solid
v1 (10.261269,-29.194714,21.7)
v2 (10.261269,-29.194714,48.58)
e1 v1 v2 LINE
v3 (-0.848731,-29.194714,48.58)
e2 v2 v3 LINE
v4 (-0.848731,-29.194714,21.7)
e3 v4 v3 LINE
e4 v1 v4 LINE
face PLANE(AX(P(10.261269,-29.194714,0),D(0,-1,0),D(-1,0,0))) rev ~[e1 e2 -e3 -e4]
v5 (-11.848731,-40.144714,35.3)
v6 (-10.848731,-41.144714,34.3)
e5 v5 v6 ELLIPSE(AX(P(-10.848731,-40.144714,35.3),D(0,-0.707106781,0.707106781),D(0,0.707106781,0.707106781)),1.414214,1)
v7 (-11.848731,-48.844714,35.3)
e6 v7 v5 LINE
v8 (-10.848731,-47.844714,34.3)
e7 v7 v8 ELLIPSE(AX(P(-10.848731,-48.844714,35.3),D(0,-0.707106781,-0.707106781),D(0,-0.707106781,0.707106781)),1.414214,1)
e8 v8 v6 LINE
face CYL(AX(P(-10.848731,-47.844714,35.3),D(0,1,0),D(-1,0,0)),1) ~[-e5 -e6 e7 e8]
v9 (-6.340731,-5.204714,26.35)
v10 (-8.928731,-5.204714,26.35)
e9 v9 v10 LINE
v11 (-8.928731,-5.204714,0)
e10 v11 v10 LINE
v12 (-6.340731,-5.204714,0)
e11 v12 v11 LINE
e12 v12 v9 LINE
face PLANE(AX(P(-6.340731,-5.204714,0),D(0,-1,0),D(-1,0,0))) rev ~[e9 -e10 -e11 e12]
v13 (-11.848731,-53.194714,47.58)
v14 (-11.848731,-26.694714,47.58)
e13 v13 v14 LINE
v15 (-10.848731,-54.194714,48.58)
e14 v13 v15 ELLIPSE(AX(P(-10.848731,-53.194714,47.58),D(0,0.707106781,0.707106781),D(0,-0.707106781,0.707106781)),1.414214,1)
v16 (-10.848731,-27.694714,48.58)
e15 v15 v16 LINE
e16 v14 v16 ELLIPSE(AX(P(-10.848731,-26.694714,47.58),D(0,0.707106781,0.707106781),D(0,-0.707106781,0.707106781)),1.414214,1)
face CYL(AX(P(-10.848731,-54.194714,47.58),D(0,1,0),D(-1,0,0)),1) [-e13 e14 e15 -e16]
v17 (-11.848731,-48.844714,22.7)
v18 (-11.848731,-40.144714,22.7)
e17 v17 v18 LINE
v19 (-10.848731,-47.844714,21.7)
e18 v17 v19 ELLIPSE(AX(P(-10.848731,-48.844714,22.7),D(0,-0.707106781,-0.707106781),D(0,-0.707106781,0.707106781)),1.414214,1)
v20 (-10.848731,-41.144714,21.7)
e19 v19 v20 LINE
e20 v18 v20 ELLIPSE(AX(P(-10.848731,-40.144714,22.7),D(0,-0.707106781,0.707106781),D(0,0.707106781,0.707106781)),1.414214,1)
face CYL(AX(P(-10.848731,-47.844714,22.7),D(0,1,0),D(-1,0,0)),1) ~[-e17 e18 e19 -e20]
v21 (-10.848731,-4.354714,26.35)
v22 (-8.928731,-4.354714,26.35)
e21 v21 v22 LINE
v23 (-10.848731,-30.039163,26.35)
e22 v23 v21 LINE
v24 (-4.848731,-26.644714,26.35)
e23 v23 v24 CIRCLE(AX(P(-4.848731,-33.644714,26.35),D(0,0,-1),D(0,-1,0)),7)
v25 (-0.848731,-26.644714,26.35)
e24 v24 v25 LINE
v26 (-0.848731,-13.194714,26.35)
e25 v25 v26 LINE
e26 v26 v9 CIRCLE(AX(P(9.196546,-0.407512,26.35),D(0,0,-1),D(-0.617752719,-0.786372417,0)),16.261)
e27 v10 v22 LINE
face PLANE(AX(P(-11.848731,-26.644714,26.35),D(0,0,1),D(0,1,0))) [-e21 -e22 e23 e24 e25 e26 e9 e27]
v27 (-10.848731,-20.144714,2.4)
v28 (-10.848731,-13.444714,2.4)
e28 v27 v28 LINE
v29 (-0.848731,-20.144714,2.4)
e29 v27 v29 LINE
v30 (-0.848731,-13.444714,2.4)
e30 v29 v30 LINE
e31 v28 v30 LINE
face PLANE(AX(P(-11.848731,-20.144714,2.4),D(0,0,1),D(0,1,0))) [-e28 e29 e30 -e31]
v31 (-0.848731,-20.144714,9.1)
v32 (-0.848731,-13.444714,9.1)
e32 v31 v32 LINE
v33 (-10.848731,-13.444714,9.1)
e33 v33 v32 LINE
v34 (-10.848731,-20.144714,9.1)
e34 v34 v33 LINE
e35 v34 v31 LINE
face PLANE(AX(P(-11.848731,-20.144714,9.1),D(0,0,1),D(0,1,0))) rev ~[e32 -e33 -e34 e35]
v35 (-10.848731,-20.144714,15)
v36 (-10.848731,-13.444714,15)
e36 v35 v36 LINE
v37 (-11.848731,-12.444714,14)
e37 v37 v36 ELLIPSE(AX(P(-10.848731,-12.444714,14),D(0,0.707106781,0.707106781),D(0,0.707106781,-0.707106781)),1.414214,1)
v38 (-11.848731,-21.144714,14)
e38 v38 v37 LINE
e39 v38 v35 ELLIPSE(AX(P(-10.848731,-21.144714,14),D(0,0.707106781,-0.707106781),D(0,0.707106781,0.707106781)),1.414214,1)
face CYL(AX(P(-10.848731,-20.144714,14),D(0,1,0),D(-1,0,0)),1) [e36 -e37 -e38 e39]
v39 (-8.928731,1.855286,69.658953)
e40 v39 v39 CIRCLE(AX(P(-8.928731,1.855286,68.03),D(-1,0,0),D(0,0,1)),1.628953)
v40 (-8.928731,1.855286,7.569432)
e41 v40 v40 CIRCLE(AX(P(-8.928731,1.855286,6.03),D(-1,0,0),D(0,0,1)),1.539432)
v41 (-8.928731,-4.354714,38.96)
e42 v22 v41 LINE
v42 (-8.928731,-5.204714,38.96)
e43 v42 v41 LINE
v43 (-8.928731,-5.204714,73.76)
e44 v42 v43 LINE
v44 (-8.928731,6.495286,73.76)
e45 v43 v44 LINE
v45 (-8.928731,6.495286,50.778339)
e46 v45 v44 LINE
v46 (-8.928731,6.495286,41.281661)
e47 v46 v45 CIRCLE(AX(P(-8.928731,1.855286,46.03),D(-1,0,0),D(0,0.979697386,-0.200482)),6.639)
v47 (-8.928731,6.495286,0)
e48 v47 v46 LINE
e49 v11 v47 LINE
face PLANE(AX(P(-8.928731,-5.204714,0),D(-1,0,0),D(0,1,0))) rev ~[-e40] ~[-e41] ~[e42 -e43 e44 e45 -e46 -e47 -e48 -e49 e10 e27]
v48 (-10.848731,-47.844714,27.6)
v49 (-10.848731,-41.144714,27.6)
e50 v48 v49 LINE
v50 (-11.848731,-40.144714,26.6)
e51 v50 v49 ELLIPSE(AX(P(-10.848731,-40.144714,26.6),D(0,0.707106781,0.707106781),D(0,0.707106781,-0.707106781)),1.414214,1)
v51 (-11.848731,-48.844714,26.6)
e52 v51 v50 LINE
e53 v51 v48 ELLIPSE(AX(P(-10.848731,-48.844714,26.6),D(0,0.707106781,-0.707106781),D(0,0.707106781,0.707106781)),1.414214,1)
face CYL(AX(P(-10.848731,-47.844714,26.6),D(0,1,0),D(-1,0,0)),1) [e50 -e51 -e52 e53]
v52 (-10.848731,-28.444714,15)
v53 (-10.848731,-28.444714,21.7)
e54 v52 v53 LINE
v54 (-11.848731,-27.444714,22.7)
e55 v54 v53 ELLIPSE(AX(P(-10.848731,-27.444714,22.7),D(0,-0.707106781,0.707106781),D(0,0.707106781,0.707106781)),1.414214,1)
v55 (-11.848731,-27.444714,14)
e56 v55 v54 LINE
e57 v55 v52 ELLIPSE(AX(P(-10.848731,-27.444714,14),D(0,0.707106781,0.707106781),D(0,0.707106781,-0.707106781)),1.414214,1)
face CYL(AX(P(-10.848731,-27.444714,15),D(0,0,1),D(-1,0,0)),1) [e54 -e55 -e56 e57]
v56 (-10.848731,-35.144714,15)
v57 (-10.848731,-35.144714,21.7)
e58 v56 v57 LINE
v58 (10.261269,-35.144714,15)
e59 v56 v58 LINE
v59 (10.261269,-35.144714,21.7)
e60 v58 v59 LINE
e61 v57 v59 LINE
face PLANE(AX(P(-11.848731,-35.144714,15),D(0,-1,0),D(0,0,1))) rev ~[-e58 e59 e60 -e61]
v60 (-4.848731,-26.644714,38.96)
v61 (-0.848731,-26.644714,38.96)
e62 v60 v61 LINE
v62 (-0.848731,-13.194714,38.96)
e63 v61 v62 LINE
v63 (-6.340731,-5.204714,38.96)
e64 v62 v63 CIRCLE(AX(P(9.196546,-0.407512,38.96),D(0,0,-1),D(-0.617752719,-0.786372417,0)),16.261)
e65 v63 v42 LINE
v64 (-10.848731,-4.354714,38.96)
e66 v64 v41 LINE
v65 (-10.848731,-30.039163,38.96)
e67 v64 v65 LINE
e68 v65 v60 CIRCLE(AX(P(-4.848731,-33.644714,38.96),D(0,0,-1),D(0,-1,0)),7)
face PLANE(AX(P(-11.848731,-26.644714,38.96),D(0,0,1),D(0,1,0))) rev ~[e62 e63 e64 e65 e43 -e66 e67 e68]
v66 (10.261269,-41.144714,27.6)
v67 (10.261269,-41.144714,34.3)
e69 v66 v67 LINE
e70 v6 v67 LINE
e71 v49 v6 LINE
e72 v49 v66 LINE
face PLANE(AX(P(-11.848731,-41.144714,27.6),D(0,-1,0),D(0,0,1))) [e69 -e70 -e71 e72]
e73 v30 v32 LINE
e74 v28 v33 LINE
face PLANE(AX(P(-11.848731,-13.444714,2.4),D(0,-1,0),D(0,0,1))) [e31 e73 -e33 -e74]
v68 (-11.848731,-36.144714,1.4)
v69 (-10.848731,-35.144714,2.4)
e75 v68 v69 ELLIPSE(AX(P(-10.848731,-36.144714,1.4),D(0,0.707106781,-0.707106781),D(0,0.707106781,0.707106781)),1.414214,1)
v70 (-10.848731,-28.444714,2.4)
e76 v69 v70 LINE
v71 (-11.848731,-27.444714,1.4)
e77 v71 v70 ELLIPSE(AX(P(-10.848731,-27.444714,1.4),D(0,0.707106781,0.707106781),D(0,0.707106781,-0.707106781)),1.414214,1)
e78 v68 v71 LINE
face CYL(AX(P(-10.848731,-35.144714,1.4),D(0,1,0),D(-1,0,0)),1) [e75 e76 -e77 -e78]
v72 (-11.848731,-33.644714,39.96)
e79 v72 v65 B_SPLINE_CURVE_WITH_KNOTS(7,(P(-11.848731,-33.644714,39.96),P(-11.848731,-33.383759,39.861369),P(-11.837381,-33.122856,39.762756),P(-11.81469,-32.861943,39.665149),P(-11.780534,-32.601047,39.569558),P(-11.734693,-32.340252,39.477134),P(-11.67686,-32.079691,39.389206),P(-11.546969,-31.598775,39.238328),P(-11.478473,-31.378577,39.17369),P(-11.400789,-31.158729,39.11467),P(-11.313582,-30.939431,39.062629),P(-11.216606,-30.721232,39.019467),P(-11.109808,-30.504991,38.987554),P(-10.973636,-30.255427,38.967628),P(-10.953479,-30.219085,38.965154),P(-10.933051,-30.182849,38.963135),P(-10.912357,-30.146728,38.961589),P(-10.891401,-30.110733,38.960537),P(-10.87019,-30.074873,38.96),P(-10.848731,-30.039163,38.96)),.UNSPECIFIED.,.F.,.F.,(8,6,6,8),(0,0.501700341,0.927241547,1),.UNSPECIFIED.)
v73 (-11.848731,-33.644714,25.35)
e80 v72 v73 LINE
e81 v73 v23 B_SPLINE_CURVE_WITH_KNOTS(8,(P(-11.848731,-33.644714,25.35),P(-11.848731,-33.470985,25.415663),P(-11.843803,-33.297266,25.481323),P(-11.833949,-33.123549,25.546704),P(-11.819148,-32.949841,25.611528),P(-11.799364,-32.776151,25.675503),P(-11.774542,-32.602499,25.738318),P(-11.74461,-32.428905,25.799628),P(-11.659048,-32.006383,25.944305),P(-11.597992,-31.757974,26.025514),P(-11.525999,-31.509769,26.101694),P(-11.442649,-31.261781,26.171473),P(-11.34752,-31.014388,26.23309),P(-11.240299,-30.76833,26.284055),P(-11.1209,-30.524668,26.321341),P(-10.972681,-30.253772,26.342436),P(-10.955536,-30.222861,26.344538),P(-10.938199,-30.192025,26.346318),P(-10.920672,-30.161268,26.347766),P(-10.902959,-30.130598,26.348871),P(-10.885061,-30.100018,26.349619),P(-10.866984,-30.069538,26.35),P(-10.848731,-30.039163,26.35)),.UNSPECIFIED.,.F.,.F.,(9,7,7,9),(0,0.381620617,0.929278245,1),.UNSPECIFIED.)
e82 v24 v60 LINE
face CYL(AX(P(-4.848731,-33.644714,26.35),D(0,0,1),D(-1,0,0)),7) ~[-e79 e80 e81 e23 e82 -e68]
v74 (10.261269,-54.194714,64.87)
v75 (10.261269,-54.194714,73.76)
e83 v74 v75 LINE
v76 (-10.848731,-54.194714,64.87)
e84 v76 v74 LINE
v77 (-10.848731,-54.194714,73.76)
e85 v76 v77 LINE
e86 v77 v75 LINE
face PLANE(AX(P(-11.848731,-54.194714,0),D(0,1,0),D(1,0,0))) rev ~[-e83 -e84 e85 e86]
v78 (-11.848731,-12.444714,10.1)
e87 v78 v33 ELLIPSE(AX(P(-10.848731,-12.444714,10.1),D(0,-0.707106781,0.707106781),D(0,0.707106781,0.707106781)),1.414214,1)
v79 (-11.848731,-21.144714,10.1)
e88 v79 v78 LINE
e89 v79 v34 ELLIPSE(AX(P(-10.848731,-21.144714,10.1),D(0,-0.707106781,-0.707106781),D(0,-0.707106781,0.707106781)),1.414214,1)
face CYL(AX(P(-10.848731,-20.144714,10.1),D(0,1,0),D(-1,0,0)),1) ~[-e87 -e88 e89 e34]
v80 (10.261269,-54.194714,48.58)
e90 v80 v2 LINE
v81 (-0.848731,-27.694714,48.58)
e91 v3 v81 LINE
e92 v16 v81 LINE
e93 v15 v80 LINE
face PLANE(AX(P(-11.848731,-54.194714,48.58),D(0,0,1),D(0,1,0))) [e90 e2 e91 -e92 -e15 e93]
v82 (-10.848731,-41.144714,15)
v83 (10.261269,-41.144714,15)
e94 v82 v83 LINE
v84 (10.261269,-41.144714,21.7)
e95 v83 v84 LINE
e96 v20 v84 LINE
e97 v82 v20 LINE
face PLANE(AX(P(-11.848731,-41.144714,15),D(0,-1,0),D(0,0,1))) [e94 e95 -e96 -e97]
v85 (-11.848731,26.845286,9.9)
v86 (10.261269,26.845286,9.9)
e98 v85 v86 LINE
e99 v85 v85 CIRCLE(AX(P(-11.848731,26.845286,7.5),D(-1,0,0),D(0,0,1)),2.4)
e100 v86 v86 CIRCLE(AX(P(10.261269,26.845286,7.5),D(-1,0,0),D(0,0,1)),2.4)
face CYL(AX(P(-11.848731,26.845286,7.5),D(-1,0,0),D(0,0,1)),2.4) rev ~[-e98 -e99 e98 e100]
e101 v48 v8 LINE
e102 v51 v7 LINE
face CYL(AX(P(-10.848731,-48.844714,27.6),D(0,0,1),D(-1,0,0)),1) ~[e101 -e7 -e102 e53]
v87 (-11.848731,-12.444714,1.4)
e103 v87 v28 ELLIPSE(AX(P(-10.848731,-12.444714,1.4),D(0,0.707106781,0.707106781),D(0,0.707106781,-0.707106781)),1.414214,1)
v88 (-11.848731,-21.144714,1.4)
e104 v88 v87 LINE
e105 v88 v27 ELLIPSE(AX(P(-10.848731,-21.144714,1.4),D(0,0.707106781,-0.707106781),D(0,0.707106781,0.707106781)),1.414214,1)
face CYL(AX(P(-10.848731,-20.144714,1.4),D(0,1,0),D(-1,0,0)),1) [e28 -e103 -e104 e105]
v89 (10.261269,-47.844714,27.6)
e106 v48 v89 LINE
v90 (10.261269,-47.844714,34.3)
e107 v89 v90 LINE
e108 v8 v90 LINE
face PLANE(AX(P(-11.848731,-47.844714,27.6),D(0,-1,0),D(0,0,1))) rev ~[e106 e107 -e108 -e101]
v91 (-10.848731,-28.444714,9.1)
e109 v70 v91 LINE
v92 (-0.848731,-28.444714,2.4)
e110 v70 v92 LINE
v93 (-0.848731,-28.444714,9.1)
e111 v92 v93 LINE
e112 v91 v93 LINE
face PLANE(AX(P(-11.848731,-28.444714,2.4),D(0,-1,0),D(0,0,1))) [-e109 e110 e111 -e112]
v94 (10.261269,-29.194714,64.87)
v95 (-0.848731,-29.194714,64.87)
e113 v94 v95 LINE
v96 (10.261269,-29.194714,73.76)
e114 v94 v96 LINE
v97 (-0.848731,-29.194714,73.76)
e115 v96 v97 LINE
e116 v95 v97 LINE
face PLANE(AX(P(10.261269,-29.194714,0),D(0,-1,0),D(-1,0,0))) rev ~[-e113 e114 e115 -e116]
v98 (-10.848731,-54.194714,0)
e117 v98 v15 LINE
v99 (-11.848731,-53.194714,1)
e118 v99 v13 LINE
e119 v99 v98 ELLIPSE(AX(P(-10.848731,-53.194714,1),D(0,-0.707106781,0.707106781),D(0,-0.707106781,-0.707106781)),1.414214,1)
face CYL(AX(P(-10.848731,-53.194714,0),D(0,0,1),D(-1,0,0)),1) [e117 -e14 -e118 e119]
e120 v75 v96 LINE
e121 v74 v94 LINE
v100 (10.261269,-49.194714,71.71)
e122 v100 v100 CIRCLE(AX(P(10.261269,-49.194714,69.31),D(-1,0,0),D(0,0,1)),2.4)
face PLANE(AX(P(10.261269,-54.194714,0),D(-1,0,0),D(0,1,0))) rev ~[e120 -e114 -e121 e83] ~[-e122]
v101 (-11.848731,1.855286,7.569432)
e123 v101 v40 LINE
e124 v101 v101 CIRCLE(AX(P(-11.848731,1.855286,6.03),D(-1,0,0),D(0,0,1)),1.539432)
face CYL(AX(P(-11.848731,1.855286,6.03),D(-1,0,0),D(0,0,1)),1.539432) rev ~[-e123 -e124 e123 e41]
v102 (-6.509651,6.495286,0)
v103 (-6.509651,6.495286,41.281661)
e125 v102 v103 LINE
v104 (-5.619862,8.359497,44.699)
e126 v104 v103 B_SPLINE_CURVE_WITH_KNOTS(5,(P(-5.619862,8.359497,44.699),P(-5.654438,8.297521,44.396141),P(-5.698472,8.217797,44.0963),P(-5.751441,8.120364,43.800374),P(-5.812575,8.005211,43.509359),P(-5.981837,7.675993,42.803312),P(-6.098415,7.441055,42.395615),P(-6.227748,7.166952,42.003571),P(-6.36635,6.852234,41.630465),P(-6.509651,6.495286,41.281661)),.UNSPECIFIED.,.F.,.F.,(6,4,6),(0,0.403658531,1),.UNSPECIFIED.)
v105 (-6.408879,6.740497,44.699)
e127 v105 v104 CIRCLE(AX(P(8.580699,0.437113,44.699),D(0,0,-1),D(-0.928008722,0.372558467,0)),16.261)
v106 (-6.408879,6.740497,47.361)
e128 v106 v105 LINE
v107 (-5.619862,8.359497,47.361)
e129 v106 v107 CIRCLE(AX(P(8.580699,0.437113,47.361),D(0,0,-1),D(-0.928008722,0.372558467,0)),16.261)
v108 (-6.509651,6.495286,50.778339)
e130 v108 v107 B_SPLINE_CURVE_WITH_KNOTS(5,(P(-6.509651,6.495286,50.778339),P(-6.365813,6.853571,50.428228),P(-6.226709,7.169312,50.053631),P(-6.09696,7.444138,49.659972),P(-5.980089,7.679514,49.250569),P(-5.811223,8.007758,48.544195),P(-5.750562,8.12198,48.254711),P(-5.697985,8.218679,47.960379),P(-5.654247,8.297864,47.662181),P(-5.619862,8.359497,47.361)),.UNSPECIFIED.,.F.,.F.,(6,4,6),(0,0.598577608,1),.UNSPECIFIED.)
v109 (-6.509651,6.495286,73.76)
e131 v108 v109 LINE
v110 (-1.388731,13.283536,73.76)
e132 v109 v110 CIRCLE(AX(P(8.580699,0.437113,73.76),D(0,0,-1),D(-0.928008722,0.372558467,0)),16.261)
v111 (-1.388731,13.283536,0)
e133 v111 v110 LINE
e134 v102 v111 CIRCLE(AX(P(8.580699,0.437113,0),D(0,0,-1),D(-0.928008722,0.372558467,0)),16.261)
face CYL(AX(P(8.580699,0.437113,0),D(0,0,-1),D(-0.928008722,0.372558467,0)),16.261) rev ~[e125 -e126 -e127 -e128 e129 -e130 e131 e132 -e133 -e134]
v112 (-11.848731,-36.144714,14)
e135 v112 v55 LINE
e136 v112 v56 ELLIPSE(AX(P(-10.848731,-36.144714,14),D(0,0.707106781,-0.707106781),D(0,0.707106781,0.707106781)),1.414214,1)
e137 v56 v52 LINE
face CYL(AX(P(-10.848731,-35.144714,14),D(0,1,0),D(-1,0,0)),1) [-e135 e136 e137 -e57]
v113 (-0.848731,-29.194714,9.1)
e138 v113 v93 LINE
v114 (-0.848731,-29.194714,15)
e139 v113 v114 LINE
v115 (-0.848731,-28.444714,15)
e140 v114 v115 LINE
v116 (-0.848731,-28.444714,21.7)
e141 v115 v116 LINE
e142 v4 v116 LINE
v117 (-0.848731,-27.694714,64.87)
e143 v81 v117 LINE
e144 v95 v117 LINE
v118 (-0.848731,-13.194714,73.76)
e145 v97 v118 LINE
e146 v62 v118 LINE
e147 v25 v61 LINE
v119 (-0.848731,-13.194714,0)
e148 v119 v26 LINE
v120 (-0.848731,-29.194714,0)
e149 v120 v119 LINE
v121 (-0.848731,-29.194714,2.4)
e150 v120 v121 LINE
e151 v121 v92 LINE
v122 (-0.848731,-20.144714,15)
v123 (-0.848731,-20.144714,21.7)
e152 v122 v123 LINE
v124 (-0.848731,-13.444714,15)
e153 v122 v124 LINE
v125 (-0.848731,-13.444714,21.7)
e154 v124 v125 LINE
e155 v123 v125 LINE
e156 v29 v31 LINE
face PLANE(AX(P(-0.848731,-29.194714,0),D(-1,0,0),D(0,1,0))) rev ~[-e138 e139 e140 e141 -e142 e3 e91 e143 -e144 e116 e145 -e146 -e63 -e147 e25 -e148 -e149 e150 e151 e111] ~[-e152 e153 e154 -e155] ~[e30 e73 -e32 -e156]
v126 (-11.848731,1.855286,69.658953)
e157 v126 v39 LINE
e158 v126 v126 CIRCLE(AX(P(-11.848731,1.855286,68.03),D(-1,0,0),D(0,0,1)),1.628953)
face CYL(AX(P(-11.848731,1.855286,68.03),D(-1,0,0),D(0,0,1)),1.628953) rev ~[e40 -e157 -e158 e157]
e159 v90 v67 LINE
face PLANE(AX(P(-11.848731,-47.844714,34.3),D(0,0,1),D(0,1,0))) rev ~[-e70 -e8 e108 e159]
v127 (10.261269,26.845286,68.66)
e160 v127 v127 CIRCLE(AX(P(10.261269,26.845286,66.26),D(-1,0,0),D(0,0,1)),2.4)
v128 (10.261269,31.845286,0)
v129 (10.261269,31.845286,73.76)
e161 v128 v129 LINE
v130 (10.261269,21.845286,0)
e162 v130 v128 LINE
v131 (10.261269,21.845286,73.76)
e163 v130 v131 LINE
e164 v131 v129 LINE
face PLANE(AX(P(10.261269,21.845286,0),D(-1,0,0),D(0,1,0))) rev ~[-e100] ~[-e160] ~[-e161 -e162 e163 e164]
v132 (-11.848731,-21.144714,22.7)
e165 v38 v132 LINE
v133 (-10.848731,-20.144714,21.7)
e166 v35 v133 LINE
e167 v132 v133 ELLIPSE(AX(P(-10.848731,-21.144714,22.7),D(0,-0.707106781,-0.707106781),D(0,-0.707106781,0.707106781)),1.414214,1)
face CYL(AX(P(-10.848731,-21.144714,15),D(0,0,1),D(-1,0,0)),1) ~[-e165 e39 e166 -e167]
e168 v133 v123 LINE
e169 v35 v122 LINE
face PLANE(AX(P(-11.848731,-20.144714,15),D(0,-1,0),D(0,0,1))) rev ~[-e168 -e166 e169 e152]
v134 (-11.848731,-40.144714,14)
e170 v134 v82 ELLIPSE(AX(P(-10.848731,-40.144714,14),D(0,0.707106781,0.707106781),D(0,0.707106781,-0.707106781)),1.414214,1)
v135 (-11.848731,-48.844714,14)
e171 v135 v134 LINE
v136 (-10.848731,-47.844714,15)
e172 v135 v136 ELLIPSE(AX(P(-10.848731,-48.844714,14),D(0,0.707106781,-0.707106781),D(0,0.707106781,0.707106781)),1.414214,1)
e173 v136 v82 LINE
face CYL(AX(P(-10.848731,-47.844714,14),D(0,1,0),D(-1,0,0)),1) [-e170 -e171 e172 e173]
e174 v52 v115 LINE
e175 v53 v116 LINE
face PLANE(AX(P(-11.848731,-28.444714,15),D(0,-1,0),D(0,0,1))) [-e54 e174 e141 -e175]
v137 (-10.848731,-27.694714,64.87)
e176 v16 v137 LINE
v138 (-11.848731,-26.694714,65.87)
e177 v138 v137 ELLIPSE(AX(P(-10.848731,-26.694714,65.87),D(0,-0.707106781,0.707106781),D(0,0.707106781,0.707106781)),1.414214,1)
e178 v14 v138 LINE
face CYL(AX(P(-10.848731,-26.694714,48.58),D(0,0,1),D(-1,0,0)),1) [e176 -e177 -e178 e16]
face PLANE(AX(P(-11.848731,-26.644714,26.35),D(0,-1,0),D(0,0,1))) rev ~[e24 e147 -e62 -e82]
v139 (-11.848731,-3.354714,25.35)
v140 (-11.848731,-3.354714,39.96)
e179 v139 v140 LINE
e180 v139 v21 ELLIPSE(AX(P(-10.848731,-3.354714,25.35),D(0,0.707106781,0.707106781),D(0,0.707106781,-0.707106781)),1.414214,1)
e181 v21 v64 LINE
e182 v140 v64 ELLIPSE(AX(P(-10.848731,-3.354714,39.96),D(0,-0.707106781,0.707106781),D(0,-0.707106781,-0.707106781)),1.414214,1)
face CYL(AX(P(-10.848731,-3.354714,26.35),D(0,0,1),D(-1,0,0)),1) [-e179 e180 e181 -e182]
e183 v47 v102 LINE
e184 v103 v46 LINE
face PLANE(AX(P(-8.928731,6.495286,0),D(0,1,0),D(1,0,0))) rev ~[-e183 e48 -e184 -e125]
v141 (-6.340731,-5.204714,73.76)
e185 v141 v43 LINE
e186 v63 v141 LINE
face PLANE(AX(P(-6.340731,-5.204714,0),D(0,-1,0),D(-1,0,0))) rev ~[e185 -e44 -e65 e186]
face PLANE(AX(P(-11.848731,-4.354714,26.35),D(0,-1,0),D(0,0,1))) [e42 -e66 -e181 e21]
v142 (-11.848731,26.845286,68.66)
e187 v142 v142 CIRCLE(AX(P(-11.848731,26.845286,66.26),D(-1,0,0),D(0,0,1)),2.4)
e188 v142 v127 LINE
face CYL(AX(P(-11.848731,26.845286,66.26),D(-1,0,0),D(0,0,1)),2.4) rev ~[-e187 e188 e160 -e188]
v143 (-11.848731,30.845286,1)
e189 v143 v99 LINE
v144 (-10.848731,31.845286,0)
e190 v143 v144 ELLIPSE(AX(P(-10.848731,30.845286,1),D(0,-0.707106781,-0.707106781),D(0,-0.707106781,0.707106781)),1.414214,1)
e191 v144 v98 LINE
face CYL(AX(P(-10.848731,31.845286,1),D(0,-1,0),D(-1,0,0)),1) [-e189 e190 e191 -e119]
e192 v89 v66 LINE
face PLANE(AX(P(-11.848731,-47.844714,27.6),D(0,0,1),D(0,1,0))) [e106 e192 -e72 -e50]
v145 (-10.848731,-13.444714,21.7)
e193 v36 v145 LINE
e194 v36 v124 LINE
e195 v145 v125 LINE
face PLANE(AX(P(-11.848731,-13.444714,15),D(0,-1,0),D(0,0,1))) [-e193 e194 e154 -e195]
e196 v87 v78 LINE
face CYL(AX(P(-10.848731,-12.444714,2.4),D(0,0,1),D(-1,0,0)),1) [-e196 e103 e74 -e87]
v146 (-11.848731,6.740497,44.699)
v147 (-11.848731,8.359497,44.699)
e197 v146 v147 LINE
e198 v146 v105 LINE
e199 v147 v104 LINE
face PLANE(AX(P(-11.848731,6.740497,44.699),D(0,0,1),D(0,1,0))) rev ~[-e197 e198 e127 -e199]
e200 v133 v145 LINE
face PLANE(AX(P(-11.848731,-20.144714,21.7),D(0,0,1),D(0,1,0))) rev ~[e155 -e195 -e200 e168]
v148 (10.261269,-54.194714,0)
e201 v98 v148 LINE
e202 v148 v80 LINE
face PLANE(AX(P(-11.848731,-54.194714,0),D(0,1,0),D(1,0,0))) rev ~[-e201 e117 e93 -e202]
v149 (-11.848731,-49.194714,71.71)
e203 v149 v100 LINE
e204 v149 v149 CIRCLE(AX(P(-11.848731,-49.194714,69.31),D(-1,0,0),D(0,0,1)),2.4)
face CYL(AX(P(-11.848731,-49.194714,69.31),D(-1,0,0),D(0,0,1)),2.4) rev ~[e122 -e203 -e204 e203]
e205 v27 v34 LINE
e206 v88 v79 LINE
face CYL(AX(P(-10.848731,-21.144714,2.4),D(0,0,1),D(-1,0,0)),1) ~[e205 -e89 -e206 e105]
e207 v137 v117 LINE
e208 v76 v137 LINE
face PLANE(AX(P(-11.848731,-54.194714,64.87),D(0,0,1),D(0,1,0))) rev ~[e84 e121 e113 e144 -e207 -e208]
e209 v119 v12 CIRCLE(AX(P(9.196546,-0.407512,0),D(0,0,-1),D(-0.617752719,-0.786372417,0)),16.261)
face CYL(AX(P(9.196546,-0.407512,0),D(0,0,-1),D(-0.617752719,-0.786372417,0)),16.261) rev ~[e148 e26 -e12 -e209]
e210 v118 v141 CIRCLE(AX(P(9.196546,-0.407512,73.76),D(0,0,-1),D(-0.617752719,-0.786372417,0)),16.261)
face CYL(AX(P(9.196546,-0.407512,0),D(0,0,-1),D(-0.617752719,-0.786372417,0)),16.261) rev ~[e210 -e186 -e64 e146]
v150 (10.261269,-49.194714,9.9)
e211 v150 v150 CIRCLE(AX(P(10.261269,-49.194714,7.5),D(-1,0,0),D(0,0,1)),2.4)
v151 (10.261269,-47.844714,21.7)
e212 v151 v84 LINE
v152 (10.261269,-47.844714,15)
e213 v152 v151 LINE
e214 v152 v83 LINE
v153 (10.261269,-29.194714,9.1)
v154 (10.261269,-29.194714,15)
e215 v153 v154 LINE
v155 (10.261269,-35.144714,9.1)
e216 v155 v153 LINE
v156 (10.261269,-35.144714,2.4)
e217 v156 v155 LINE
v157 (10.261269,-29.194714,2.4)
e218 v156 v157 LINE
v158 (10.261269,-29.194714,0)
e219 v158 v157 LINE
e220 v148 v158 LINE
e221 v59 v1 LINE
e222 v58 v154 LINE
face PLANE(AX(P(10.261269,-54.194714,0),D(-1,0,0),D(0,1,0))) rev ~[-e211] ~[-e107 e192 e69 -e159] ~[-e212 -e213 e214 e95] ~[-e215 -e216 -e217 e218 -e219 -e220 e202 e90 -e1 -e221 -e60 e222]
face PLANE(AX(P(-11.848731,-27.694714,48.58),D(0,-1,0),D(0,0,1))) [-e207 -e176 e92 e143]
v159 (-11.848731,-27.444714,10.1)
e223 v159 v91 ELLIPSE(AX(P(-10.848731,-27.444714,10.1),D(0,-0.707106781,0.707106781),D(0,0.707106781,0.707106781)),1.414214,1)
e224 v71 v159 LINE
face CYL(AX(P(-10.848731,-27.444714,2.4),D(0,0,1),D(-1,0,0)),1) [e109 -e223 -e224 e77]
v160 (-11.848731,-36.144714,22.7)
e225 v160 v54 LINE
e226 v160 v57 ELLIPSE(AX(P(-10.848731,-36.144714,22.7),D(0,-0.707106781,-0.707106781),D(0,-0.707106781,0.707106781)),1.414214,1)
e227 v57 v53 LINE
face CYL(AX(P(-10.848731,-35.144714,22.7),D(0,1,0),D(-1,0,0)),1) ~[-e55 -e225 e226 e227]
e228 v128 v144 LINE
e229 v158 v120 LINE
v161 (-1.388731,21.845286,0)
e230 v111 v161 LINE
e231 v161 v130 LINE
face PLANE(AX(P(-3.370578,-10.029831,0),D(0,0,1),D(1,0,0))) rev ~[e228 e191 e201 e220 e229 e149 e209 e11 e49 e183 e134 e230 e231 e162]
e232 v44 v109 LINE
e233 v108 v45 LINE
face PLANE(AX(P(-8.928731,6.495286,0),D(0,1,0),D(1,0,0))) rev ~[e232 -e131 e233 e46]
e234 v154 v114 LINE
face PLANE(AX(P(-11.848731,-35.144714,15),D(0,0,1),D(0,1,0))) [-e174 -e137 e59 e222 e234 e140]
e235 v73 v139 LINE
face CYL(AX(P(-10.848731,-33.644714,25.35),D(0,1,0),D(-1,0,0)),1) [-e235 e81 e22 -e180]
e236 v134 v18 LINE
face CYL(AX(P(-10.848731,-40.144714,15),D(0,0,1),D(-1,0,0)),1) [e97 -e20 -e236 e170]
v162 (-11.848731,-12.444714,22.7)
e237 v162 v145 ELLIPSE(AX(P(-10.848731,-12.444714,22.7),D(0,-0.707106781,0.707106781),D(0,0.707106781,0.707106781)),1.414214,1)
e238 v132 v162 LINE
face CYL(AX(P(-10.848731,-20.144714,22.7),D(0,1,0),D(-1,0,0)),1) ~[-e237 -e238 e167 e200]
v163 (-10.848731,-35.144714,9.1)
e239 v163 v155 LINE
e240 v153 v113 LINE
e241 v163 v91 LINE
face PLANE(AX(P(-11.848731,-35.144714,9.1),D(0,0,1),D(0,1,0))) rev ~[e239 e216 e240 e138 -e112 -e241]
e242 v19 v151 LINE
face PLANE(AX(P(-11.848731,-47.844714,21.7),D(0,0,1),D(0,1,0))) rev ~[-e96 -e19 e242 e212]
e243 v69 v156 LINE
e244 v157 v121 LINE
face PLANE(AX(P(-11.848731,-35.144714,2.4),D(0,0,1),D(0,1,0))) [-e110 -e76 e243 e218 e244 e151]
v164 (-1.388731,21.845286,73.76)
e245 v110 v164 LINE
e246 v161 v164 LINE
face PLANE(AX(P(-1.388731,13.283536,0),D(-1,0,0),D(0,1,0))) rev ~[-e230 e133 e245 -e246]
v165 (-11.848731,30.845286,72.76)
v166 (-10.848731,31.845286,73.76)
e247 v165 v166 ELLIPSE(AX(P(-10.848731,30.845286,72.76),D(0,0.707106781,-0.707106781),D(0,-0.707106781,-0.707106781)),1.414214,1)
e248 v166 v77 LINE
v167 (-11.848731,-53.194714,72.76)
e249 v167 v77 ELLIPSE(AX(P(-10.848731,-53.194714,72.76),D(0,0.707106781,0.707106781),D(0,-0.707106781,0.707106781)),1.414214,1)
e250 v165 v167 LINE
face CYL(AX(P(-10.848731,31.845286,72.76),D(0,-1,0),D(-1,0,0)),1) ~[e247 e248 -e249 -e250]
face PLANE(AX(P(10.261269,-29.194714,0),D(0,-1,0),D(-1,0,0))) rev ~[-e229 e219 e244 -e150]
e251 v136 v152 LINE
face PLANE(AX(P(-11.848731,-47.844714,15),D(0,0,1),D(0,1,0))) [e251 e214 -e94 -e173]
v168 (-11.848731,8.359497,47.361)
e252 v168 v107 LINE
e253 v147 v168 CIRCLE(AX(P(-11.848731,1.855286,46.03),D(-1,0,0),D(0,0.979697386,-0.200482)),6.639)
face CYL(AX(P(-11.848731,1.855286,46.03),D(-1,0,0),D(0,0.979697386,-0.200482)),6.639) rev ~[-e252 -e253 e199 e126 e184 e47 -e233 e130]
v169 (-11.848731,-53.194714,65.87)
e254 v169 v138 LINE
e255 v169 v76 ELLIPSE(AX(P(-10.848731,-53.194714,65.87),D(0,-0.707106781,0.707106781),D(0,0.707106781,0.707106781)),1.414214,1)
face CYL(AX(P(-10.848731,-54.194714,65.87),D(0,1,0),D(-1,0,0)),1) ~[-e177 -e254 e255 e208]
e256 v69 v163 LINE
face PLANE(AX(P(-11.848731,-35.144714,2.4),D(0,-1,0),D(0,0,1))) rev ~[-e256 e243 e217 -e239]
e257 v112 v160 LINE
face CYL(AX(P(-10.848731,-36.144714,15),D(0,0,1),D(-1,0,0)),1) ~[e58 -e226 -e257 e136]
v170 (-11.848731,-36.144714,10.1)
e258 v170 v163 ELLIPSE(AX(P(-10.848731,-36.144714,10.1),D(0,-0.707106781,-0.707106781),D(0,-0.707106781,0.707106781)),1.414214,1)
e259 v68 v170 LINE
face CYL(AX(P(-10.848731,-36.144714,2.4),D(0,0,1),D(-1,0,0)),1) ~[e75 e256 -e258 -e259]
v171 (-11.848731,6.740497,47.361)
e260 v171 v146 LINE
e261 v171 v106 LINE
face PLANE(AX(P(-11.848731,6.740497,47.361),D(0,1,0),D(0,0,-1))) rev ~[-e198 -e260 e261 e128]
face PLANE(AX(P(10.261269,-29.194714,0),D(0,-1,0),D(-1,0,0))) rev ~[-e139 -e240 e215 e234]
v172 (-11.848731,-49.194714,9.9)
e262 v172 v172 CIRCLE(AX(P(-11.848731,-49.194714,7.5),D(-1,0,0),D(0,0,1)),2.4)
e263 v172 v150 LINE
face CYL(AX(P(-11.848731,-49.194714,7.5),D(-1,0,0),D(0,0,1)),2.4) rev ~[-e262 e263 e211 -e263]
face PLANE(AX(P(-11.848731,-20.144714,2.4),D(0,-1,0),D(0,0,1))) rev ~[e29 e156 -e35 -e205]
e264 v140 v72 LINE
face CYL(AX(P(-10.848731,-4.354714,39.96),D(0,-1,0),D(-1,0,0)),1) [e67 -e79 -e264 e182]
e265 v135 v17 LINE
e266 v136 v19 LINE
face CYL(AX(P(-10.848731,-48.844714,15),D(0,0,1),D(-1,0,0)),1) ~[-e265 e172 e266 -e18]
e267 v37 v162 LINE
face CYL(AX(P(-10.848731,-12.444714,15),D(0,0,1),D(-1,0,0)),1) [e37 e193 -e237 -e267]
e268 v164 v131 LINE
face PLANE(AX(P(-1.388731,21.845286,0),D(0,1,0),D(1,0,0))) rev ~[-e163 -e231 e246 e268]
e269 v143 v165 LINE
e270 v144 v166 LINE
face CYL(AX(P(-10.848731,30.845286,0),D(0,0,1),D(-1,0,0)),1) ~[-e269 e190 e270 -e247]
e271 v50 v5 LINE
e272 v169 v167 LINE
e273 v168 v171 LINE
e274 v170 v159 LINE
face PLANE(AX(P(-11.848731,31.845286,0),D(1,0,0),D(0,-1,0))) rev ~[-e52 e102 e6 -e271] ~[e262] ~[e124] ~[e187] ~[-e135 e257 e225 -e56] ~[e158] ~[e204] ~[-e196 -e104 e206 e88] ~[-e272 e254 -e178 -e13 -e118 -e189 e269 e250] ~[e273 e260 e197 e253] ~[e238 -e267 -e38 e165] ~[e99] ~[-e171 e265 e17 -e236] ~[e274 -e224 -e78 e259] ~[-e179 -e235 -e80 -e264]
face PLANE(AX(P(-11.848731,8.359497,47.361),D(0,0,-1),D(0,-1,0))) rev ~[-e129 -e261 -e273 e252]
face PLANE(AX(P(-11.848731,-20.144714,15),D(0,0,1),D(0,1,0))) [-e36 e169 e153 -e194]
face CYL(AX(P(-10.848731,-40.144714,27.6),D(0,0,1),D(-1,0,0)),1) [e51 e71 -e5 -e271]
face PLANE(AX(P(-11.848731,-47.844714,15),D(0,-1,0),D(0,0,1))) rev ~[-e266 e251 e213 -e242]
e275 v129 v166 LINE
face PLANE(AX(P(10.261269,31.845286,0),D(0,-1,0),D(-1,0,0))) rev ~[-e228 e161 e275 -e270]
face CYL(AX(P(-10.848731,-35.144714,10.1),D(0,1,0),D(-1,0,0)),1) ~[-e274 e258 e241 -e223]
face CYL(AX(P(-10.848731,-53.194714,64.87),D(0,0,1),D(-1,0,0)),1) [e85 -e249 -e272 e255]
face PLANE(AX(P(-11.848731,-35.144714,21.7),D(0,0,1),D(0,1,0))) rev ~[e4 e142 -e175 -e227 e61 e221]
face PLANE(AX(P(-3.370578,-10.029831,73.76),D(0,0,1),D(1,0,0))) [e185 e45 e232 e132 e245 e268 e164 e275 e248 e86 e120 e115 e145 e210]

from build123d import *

# Parameters (mm, degrees)
PROFILEEXTRUDE_DEPTH    = 73.76
HOSEWINDOW_W            = 16.29
HOSEWINDOW_H            = 26.5
HOSEWINDOWCUT_DEPTH     = 23.11
CAGESCREWS_R            = 2.4
CAGESCREWSCUT_DEPTH     = 23.11
AXLEHOLECUT_DEPTH       = 23.11
SETSCREWHOLES_R         = 1.539432213
SETSCREWHOLES_R_2       = 1.628953018
SETSCREWHOLESCUT_DEPTH  = 23.11
VELOCITYWINDOW_W        = 12.61
VELOCITYWINDOW_H        = 22.29
VELOCITYWINDOWCUT_DEPTH = 23.11
FILLET3_R               = 7
TRIGGERRACKSLOTCUT_W    = 6.7
TRIGGERRACKSLOTCUT_H    = 6.7
RACKSLOTCUT_DEPTH       = 23.11
FILLET4_R               = 1


with BuildPart() as part:
    # Profile → ProfileExtrude (new body)
    with BuildSketch(Plane.XY):
        with BuildLine():
            Line((10.261269376, -54.194713793), (10.261269376, -29.194713793))
            Line((10.261269376, -29.194713793), (-0.848730624, -29.194713793))
            Line((-0.848730624, -29.194713793), (-0.848730624, -13.194713793))
            ThreePointArc((-0.848730624, -13.194713793), (-4.204080189, -9.618555822), (-6.340730624, -5.204713793))
            Line((-6.340730624, -5.204713793), (-8.928730624, -5.204713793))
            Line((-8.928730624, -5.204713793), (-8.928730624, 6.495286207))
            Line((-8.928730624, 6.495286207), (-6.509650624, 6.495286207))
            ThreePointArc((-6.509650624, 6.495286207), (-4.40075771, 10.230064383), (-1.388730624, 13.283536207))
            Line((-1.388730624, 13.283536207), (-1.388730624, 21.845286207))
            Line((-1.388730624, 21.845286207), (10.261269376, 21.845286207))
            Line((10.261269376, 21.845286207), (10.261269376, 31.845286207))
            Line((10.261269376, 31.845286207), (-11.848730624, 31.845286207))
            Line((-11.848730624, 31.845286207), (-11.848730624, -54.194713793))
            Line((-11.848730624, -54.194713793), (10.261269376, -54.194713793))
        make_face()
    extrude(amount=PROFILEEXTRUDE_DEPTH)

    # HoseWindow → HoseWindowCut (cut, through all)
    with BuildSketch(Plane.ZY.offset(11.848730624)):
        with Locations((56.725, -40.944713793)):
            Rectangle(HOSEWINDOW_W, HOSEWINDOW_H)
    extrude(amount=-HOSEWINDOWCUT_DEPTH, mode=Mode.SUBTRACT)

    # CageScrews → CageScrewsCut (cut, through all)
    with BuildSketch(Plane.ZY.offset(11.848730624)):
        with Locations((7.5, 26.845286207)):
            Circle(CAGESCREWS_R)
        with Locations((66.26, 26.845286207)):
            Circle(CAGESCREWS_R)
        with Locations((7.5, -49.194713793)):
            Circle(CAGESCREWS_R)
        with Locations((69.31, -49.194713793)):
            Circle(CAGESCREWS_R)
    extrude(amount=-CAGESCREWSCUT_DEPTH, mode=Mode.SUBTRACT)

    # AxleHole → AxleHoleCut (cut, through all)
    with BuildSketch(Plane.ZY.offset(11.848730624)):
        with BuildLine():
            Line((47.361, 8.359497151), (47.361, 6.740497151))
            Line((47.361, 6.740497151), (44.699, 6.740497151))
            Line((44.699, 6.740497151), (44.699, 8.359497151))
            ThreePointArc((44.699, 8.359497151), (46.03, -4.783713793), (47.361, 8.359497151))
        make_face()
    extrude(amount=-AXLEHOLECUT_DEPTH, mode=Mode.SUBTRACT)

    # SetScrewHoles → SetScrewHolesCut (cut, through all)
    with BuildSketch(Plane.ZY.offset(11.848730624)):
        with Locations((6.03, 1.855286207)):
            Circle(SETSCREWHOLES_R)
        with Locations((68.03, 1.855286207)):
            Circle(SETSCREWHOLES_R_2)
    extrude(amount=-SETSCREWHOLESCUT_DEPTH, mode=Mode.SUBTRACT)

    # VelocityWindow → VelocityWindowCut (cut, through all)
    with BuildSketch(Plane.ZY.offset(11.848730624)):
        with Locations((32.655, -15.499713793)):
            Rectangle(VELOCITYWINDOW_W, VELOCITYWINDOW_H)
    extrude(amount=-VELOCITYWINDOWCUT_DEPTH, mode=Mode.SUBTRACT)

    # Fillet3
    fillet3_edges = [part.edges().sort_by_distance(p)[0] for p in [
        (-11.848730624, -26.644713793, 32.655),
    ]]
    fillet(fillet3_edges, radius=FILLET3_R)

    # TriggerRackSlotCut → RackSlotCut (cut, through all)
    with BuildSketch(Plane.ZY.offset(11.848730624)):
        with Locations((18.35, -44.494713793)):
            Rectangle(TRIGGERRACKSLOTCUT_W, TRIGGERRACKSLOTCUT_H)
        with Locations((30.95, -44.494713793)):
            Rectangle(TRIGGERRACKSLOTCUT_W, TRIGGERRACKSLOTCUT_H)
        with Locations((5.75, -31.794713793)):
            Rectangle(TRIGGERRACKSLOTCUT_W, TRIGGERRACKSLOTCUT_H)
        with Locations((18.35, -31.794713793)):
            Rectangle(TRIGGERRACKSLOTCUT_W, TRIGGERRACKSLOTCUT_H)
        with Locations((5.75, -16.794713793)):
            Rectangle(TRIGGERRACKSLOTCUT_W, TRIGGERRACKSLOTCUT_H)
        with Locations((18.35, -16.794713793)):
            Rectangle(TRIGGERRACKSLOTCUT_W, TRIGGERRACKSLOTCUT_H)
    extrude(amount=-RACKSLOTCUT_DEPTH, mode=Mode.SUBTRACT)

    # Fillet4
    fillet4_edges = [part.edges().sort_by_distance(p)[0] for p in [
        (-11.848730624, -11.174713793, 73.76),
        (-11.848730624, -18.999713793, 26.35),
        (-11.848730624, -18.999713793, 38.96),
        (-11.848730624, -4.354713793, 32.655),
        (-11.848730624, -44.494713793, 15),
        (-11.848730624, -47.844713793, 18.35),
        (-11.848730624, -44.494713793, 21.7),
        (-11.848730624, -41.144713793, 18.35),
        (-11.848730624, -11.174713793, 0),
        (-11.848730624, -44.494713793, 27.6),
        (-11.848730624, -47.844713793, 30.95),
        (-11.848730624, -44.494713793, 34.3),
        (-11.848730624, -41.144713793, 30.95),
        (-11.848730624, -31.794713793, 2.4),
        (-11.848730624, -35.144713793, 5.75),
        (-11.848730624, -31.794713793, 9.1),
        (-11.848730624, -28.444713793, 5.75),
        (-11.848730624, -31.794713793, 15),
        (-11.848730624, -35.144713793, 18.35),
        (-11.848730624, -31.794713793, 21.7),
        (-11.848730624, -28.444713793, 18.35),
        (-11.848730624, -16.794713793, 2.4),
        (-11.848730624, -20.144713793, 5.75),
        (-11.848730624, -16.794713793, 9.1),
        (-11.848730624, -13.444713793, 5.75),
        (-11.848730624, -54.194713793, 69.315),
        (-11.848730624, 31.845286207, 36.88),
        (-11.848730624, -16.794713793, 15),
        (-11.848730624, -20.144713793, 18.35),
        (-11.848730624, -16.794713793, 21.7),
        (-11.848730624, -13.444713793, 18.35),
        (-11.848730624, -54.194713793, 24.29),
        (-11.848730624, -40.944713793, 64.87),
        (-11.848730624, -27.694713793, 56.725),
        (-11.848730624, -40.944713793, 48.58),
    ]]
    fillet(fillet4_edges, radius=FILLET4_R)


solid = part.part
